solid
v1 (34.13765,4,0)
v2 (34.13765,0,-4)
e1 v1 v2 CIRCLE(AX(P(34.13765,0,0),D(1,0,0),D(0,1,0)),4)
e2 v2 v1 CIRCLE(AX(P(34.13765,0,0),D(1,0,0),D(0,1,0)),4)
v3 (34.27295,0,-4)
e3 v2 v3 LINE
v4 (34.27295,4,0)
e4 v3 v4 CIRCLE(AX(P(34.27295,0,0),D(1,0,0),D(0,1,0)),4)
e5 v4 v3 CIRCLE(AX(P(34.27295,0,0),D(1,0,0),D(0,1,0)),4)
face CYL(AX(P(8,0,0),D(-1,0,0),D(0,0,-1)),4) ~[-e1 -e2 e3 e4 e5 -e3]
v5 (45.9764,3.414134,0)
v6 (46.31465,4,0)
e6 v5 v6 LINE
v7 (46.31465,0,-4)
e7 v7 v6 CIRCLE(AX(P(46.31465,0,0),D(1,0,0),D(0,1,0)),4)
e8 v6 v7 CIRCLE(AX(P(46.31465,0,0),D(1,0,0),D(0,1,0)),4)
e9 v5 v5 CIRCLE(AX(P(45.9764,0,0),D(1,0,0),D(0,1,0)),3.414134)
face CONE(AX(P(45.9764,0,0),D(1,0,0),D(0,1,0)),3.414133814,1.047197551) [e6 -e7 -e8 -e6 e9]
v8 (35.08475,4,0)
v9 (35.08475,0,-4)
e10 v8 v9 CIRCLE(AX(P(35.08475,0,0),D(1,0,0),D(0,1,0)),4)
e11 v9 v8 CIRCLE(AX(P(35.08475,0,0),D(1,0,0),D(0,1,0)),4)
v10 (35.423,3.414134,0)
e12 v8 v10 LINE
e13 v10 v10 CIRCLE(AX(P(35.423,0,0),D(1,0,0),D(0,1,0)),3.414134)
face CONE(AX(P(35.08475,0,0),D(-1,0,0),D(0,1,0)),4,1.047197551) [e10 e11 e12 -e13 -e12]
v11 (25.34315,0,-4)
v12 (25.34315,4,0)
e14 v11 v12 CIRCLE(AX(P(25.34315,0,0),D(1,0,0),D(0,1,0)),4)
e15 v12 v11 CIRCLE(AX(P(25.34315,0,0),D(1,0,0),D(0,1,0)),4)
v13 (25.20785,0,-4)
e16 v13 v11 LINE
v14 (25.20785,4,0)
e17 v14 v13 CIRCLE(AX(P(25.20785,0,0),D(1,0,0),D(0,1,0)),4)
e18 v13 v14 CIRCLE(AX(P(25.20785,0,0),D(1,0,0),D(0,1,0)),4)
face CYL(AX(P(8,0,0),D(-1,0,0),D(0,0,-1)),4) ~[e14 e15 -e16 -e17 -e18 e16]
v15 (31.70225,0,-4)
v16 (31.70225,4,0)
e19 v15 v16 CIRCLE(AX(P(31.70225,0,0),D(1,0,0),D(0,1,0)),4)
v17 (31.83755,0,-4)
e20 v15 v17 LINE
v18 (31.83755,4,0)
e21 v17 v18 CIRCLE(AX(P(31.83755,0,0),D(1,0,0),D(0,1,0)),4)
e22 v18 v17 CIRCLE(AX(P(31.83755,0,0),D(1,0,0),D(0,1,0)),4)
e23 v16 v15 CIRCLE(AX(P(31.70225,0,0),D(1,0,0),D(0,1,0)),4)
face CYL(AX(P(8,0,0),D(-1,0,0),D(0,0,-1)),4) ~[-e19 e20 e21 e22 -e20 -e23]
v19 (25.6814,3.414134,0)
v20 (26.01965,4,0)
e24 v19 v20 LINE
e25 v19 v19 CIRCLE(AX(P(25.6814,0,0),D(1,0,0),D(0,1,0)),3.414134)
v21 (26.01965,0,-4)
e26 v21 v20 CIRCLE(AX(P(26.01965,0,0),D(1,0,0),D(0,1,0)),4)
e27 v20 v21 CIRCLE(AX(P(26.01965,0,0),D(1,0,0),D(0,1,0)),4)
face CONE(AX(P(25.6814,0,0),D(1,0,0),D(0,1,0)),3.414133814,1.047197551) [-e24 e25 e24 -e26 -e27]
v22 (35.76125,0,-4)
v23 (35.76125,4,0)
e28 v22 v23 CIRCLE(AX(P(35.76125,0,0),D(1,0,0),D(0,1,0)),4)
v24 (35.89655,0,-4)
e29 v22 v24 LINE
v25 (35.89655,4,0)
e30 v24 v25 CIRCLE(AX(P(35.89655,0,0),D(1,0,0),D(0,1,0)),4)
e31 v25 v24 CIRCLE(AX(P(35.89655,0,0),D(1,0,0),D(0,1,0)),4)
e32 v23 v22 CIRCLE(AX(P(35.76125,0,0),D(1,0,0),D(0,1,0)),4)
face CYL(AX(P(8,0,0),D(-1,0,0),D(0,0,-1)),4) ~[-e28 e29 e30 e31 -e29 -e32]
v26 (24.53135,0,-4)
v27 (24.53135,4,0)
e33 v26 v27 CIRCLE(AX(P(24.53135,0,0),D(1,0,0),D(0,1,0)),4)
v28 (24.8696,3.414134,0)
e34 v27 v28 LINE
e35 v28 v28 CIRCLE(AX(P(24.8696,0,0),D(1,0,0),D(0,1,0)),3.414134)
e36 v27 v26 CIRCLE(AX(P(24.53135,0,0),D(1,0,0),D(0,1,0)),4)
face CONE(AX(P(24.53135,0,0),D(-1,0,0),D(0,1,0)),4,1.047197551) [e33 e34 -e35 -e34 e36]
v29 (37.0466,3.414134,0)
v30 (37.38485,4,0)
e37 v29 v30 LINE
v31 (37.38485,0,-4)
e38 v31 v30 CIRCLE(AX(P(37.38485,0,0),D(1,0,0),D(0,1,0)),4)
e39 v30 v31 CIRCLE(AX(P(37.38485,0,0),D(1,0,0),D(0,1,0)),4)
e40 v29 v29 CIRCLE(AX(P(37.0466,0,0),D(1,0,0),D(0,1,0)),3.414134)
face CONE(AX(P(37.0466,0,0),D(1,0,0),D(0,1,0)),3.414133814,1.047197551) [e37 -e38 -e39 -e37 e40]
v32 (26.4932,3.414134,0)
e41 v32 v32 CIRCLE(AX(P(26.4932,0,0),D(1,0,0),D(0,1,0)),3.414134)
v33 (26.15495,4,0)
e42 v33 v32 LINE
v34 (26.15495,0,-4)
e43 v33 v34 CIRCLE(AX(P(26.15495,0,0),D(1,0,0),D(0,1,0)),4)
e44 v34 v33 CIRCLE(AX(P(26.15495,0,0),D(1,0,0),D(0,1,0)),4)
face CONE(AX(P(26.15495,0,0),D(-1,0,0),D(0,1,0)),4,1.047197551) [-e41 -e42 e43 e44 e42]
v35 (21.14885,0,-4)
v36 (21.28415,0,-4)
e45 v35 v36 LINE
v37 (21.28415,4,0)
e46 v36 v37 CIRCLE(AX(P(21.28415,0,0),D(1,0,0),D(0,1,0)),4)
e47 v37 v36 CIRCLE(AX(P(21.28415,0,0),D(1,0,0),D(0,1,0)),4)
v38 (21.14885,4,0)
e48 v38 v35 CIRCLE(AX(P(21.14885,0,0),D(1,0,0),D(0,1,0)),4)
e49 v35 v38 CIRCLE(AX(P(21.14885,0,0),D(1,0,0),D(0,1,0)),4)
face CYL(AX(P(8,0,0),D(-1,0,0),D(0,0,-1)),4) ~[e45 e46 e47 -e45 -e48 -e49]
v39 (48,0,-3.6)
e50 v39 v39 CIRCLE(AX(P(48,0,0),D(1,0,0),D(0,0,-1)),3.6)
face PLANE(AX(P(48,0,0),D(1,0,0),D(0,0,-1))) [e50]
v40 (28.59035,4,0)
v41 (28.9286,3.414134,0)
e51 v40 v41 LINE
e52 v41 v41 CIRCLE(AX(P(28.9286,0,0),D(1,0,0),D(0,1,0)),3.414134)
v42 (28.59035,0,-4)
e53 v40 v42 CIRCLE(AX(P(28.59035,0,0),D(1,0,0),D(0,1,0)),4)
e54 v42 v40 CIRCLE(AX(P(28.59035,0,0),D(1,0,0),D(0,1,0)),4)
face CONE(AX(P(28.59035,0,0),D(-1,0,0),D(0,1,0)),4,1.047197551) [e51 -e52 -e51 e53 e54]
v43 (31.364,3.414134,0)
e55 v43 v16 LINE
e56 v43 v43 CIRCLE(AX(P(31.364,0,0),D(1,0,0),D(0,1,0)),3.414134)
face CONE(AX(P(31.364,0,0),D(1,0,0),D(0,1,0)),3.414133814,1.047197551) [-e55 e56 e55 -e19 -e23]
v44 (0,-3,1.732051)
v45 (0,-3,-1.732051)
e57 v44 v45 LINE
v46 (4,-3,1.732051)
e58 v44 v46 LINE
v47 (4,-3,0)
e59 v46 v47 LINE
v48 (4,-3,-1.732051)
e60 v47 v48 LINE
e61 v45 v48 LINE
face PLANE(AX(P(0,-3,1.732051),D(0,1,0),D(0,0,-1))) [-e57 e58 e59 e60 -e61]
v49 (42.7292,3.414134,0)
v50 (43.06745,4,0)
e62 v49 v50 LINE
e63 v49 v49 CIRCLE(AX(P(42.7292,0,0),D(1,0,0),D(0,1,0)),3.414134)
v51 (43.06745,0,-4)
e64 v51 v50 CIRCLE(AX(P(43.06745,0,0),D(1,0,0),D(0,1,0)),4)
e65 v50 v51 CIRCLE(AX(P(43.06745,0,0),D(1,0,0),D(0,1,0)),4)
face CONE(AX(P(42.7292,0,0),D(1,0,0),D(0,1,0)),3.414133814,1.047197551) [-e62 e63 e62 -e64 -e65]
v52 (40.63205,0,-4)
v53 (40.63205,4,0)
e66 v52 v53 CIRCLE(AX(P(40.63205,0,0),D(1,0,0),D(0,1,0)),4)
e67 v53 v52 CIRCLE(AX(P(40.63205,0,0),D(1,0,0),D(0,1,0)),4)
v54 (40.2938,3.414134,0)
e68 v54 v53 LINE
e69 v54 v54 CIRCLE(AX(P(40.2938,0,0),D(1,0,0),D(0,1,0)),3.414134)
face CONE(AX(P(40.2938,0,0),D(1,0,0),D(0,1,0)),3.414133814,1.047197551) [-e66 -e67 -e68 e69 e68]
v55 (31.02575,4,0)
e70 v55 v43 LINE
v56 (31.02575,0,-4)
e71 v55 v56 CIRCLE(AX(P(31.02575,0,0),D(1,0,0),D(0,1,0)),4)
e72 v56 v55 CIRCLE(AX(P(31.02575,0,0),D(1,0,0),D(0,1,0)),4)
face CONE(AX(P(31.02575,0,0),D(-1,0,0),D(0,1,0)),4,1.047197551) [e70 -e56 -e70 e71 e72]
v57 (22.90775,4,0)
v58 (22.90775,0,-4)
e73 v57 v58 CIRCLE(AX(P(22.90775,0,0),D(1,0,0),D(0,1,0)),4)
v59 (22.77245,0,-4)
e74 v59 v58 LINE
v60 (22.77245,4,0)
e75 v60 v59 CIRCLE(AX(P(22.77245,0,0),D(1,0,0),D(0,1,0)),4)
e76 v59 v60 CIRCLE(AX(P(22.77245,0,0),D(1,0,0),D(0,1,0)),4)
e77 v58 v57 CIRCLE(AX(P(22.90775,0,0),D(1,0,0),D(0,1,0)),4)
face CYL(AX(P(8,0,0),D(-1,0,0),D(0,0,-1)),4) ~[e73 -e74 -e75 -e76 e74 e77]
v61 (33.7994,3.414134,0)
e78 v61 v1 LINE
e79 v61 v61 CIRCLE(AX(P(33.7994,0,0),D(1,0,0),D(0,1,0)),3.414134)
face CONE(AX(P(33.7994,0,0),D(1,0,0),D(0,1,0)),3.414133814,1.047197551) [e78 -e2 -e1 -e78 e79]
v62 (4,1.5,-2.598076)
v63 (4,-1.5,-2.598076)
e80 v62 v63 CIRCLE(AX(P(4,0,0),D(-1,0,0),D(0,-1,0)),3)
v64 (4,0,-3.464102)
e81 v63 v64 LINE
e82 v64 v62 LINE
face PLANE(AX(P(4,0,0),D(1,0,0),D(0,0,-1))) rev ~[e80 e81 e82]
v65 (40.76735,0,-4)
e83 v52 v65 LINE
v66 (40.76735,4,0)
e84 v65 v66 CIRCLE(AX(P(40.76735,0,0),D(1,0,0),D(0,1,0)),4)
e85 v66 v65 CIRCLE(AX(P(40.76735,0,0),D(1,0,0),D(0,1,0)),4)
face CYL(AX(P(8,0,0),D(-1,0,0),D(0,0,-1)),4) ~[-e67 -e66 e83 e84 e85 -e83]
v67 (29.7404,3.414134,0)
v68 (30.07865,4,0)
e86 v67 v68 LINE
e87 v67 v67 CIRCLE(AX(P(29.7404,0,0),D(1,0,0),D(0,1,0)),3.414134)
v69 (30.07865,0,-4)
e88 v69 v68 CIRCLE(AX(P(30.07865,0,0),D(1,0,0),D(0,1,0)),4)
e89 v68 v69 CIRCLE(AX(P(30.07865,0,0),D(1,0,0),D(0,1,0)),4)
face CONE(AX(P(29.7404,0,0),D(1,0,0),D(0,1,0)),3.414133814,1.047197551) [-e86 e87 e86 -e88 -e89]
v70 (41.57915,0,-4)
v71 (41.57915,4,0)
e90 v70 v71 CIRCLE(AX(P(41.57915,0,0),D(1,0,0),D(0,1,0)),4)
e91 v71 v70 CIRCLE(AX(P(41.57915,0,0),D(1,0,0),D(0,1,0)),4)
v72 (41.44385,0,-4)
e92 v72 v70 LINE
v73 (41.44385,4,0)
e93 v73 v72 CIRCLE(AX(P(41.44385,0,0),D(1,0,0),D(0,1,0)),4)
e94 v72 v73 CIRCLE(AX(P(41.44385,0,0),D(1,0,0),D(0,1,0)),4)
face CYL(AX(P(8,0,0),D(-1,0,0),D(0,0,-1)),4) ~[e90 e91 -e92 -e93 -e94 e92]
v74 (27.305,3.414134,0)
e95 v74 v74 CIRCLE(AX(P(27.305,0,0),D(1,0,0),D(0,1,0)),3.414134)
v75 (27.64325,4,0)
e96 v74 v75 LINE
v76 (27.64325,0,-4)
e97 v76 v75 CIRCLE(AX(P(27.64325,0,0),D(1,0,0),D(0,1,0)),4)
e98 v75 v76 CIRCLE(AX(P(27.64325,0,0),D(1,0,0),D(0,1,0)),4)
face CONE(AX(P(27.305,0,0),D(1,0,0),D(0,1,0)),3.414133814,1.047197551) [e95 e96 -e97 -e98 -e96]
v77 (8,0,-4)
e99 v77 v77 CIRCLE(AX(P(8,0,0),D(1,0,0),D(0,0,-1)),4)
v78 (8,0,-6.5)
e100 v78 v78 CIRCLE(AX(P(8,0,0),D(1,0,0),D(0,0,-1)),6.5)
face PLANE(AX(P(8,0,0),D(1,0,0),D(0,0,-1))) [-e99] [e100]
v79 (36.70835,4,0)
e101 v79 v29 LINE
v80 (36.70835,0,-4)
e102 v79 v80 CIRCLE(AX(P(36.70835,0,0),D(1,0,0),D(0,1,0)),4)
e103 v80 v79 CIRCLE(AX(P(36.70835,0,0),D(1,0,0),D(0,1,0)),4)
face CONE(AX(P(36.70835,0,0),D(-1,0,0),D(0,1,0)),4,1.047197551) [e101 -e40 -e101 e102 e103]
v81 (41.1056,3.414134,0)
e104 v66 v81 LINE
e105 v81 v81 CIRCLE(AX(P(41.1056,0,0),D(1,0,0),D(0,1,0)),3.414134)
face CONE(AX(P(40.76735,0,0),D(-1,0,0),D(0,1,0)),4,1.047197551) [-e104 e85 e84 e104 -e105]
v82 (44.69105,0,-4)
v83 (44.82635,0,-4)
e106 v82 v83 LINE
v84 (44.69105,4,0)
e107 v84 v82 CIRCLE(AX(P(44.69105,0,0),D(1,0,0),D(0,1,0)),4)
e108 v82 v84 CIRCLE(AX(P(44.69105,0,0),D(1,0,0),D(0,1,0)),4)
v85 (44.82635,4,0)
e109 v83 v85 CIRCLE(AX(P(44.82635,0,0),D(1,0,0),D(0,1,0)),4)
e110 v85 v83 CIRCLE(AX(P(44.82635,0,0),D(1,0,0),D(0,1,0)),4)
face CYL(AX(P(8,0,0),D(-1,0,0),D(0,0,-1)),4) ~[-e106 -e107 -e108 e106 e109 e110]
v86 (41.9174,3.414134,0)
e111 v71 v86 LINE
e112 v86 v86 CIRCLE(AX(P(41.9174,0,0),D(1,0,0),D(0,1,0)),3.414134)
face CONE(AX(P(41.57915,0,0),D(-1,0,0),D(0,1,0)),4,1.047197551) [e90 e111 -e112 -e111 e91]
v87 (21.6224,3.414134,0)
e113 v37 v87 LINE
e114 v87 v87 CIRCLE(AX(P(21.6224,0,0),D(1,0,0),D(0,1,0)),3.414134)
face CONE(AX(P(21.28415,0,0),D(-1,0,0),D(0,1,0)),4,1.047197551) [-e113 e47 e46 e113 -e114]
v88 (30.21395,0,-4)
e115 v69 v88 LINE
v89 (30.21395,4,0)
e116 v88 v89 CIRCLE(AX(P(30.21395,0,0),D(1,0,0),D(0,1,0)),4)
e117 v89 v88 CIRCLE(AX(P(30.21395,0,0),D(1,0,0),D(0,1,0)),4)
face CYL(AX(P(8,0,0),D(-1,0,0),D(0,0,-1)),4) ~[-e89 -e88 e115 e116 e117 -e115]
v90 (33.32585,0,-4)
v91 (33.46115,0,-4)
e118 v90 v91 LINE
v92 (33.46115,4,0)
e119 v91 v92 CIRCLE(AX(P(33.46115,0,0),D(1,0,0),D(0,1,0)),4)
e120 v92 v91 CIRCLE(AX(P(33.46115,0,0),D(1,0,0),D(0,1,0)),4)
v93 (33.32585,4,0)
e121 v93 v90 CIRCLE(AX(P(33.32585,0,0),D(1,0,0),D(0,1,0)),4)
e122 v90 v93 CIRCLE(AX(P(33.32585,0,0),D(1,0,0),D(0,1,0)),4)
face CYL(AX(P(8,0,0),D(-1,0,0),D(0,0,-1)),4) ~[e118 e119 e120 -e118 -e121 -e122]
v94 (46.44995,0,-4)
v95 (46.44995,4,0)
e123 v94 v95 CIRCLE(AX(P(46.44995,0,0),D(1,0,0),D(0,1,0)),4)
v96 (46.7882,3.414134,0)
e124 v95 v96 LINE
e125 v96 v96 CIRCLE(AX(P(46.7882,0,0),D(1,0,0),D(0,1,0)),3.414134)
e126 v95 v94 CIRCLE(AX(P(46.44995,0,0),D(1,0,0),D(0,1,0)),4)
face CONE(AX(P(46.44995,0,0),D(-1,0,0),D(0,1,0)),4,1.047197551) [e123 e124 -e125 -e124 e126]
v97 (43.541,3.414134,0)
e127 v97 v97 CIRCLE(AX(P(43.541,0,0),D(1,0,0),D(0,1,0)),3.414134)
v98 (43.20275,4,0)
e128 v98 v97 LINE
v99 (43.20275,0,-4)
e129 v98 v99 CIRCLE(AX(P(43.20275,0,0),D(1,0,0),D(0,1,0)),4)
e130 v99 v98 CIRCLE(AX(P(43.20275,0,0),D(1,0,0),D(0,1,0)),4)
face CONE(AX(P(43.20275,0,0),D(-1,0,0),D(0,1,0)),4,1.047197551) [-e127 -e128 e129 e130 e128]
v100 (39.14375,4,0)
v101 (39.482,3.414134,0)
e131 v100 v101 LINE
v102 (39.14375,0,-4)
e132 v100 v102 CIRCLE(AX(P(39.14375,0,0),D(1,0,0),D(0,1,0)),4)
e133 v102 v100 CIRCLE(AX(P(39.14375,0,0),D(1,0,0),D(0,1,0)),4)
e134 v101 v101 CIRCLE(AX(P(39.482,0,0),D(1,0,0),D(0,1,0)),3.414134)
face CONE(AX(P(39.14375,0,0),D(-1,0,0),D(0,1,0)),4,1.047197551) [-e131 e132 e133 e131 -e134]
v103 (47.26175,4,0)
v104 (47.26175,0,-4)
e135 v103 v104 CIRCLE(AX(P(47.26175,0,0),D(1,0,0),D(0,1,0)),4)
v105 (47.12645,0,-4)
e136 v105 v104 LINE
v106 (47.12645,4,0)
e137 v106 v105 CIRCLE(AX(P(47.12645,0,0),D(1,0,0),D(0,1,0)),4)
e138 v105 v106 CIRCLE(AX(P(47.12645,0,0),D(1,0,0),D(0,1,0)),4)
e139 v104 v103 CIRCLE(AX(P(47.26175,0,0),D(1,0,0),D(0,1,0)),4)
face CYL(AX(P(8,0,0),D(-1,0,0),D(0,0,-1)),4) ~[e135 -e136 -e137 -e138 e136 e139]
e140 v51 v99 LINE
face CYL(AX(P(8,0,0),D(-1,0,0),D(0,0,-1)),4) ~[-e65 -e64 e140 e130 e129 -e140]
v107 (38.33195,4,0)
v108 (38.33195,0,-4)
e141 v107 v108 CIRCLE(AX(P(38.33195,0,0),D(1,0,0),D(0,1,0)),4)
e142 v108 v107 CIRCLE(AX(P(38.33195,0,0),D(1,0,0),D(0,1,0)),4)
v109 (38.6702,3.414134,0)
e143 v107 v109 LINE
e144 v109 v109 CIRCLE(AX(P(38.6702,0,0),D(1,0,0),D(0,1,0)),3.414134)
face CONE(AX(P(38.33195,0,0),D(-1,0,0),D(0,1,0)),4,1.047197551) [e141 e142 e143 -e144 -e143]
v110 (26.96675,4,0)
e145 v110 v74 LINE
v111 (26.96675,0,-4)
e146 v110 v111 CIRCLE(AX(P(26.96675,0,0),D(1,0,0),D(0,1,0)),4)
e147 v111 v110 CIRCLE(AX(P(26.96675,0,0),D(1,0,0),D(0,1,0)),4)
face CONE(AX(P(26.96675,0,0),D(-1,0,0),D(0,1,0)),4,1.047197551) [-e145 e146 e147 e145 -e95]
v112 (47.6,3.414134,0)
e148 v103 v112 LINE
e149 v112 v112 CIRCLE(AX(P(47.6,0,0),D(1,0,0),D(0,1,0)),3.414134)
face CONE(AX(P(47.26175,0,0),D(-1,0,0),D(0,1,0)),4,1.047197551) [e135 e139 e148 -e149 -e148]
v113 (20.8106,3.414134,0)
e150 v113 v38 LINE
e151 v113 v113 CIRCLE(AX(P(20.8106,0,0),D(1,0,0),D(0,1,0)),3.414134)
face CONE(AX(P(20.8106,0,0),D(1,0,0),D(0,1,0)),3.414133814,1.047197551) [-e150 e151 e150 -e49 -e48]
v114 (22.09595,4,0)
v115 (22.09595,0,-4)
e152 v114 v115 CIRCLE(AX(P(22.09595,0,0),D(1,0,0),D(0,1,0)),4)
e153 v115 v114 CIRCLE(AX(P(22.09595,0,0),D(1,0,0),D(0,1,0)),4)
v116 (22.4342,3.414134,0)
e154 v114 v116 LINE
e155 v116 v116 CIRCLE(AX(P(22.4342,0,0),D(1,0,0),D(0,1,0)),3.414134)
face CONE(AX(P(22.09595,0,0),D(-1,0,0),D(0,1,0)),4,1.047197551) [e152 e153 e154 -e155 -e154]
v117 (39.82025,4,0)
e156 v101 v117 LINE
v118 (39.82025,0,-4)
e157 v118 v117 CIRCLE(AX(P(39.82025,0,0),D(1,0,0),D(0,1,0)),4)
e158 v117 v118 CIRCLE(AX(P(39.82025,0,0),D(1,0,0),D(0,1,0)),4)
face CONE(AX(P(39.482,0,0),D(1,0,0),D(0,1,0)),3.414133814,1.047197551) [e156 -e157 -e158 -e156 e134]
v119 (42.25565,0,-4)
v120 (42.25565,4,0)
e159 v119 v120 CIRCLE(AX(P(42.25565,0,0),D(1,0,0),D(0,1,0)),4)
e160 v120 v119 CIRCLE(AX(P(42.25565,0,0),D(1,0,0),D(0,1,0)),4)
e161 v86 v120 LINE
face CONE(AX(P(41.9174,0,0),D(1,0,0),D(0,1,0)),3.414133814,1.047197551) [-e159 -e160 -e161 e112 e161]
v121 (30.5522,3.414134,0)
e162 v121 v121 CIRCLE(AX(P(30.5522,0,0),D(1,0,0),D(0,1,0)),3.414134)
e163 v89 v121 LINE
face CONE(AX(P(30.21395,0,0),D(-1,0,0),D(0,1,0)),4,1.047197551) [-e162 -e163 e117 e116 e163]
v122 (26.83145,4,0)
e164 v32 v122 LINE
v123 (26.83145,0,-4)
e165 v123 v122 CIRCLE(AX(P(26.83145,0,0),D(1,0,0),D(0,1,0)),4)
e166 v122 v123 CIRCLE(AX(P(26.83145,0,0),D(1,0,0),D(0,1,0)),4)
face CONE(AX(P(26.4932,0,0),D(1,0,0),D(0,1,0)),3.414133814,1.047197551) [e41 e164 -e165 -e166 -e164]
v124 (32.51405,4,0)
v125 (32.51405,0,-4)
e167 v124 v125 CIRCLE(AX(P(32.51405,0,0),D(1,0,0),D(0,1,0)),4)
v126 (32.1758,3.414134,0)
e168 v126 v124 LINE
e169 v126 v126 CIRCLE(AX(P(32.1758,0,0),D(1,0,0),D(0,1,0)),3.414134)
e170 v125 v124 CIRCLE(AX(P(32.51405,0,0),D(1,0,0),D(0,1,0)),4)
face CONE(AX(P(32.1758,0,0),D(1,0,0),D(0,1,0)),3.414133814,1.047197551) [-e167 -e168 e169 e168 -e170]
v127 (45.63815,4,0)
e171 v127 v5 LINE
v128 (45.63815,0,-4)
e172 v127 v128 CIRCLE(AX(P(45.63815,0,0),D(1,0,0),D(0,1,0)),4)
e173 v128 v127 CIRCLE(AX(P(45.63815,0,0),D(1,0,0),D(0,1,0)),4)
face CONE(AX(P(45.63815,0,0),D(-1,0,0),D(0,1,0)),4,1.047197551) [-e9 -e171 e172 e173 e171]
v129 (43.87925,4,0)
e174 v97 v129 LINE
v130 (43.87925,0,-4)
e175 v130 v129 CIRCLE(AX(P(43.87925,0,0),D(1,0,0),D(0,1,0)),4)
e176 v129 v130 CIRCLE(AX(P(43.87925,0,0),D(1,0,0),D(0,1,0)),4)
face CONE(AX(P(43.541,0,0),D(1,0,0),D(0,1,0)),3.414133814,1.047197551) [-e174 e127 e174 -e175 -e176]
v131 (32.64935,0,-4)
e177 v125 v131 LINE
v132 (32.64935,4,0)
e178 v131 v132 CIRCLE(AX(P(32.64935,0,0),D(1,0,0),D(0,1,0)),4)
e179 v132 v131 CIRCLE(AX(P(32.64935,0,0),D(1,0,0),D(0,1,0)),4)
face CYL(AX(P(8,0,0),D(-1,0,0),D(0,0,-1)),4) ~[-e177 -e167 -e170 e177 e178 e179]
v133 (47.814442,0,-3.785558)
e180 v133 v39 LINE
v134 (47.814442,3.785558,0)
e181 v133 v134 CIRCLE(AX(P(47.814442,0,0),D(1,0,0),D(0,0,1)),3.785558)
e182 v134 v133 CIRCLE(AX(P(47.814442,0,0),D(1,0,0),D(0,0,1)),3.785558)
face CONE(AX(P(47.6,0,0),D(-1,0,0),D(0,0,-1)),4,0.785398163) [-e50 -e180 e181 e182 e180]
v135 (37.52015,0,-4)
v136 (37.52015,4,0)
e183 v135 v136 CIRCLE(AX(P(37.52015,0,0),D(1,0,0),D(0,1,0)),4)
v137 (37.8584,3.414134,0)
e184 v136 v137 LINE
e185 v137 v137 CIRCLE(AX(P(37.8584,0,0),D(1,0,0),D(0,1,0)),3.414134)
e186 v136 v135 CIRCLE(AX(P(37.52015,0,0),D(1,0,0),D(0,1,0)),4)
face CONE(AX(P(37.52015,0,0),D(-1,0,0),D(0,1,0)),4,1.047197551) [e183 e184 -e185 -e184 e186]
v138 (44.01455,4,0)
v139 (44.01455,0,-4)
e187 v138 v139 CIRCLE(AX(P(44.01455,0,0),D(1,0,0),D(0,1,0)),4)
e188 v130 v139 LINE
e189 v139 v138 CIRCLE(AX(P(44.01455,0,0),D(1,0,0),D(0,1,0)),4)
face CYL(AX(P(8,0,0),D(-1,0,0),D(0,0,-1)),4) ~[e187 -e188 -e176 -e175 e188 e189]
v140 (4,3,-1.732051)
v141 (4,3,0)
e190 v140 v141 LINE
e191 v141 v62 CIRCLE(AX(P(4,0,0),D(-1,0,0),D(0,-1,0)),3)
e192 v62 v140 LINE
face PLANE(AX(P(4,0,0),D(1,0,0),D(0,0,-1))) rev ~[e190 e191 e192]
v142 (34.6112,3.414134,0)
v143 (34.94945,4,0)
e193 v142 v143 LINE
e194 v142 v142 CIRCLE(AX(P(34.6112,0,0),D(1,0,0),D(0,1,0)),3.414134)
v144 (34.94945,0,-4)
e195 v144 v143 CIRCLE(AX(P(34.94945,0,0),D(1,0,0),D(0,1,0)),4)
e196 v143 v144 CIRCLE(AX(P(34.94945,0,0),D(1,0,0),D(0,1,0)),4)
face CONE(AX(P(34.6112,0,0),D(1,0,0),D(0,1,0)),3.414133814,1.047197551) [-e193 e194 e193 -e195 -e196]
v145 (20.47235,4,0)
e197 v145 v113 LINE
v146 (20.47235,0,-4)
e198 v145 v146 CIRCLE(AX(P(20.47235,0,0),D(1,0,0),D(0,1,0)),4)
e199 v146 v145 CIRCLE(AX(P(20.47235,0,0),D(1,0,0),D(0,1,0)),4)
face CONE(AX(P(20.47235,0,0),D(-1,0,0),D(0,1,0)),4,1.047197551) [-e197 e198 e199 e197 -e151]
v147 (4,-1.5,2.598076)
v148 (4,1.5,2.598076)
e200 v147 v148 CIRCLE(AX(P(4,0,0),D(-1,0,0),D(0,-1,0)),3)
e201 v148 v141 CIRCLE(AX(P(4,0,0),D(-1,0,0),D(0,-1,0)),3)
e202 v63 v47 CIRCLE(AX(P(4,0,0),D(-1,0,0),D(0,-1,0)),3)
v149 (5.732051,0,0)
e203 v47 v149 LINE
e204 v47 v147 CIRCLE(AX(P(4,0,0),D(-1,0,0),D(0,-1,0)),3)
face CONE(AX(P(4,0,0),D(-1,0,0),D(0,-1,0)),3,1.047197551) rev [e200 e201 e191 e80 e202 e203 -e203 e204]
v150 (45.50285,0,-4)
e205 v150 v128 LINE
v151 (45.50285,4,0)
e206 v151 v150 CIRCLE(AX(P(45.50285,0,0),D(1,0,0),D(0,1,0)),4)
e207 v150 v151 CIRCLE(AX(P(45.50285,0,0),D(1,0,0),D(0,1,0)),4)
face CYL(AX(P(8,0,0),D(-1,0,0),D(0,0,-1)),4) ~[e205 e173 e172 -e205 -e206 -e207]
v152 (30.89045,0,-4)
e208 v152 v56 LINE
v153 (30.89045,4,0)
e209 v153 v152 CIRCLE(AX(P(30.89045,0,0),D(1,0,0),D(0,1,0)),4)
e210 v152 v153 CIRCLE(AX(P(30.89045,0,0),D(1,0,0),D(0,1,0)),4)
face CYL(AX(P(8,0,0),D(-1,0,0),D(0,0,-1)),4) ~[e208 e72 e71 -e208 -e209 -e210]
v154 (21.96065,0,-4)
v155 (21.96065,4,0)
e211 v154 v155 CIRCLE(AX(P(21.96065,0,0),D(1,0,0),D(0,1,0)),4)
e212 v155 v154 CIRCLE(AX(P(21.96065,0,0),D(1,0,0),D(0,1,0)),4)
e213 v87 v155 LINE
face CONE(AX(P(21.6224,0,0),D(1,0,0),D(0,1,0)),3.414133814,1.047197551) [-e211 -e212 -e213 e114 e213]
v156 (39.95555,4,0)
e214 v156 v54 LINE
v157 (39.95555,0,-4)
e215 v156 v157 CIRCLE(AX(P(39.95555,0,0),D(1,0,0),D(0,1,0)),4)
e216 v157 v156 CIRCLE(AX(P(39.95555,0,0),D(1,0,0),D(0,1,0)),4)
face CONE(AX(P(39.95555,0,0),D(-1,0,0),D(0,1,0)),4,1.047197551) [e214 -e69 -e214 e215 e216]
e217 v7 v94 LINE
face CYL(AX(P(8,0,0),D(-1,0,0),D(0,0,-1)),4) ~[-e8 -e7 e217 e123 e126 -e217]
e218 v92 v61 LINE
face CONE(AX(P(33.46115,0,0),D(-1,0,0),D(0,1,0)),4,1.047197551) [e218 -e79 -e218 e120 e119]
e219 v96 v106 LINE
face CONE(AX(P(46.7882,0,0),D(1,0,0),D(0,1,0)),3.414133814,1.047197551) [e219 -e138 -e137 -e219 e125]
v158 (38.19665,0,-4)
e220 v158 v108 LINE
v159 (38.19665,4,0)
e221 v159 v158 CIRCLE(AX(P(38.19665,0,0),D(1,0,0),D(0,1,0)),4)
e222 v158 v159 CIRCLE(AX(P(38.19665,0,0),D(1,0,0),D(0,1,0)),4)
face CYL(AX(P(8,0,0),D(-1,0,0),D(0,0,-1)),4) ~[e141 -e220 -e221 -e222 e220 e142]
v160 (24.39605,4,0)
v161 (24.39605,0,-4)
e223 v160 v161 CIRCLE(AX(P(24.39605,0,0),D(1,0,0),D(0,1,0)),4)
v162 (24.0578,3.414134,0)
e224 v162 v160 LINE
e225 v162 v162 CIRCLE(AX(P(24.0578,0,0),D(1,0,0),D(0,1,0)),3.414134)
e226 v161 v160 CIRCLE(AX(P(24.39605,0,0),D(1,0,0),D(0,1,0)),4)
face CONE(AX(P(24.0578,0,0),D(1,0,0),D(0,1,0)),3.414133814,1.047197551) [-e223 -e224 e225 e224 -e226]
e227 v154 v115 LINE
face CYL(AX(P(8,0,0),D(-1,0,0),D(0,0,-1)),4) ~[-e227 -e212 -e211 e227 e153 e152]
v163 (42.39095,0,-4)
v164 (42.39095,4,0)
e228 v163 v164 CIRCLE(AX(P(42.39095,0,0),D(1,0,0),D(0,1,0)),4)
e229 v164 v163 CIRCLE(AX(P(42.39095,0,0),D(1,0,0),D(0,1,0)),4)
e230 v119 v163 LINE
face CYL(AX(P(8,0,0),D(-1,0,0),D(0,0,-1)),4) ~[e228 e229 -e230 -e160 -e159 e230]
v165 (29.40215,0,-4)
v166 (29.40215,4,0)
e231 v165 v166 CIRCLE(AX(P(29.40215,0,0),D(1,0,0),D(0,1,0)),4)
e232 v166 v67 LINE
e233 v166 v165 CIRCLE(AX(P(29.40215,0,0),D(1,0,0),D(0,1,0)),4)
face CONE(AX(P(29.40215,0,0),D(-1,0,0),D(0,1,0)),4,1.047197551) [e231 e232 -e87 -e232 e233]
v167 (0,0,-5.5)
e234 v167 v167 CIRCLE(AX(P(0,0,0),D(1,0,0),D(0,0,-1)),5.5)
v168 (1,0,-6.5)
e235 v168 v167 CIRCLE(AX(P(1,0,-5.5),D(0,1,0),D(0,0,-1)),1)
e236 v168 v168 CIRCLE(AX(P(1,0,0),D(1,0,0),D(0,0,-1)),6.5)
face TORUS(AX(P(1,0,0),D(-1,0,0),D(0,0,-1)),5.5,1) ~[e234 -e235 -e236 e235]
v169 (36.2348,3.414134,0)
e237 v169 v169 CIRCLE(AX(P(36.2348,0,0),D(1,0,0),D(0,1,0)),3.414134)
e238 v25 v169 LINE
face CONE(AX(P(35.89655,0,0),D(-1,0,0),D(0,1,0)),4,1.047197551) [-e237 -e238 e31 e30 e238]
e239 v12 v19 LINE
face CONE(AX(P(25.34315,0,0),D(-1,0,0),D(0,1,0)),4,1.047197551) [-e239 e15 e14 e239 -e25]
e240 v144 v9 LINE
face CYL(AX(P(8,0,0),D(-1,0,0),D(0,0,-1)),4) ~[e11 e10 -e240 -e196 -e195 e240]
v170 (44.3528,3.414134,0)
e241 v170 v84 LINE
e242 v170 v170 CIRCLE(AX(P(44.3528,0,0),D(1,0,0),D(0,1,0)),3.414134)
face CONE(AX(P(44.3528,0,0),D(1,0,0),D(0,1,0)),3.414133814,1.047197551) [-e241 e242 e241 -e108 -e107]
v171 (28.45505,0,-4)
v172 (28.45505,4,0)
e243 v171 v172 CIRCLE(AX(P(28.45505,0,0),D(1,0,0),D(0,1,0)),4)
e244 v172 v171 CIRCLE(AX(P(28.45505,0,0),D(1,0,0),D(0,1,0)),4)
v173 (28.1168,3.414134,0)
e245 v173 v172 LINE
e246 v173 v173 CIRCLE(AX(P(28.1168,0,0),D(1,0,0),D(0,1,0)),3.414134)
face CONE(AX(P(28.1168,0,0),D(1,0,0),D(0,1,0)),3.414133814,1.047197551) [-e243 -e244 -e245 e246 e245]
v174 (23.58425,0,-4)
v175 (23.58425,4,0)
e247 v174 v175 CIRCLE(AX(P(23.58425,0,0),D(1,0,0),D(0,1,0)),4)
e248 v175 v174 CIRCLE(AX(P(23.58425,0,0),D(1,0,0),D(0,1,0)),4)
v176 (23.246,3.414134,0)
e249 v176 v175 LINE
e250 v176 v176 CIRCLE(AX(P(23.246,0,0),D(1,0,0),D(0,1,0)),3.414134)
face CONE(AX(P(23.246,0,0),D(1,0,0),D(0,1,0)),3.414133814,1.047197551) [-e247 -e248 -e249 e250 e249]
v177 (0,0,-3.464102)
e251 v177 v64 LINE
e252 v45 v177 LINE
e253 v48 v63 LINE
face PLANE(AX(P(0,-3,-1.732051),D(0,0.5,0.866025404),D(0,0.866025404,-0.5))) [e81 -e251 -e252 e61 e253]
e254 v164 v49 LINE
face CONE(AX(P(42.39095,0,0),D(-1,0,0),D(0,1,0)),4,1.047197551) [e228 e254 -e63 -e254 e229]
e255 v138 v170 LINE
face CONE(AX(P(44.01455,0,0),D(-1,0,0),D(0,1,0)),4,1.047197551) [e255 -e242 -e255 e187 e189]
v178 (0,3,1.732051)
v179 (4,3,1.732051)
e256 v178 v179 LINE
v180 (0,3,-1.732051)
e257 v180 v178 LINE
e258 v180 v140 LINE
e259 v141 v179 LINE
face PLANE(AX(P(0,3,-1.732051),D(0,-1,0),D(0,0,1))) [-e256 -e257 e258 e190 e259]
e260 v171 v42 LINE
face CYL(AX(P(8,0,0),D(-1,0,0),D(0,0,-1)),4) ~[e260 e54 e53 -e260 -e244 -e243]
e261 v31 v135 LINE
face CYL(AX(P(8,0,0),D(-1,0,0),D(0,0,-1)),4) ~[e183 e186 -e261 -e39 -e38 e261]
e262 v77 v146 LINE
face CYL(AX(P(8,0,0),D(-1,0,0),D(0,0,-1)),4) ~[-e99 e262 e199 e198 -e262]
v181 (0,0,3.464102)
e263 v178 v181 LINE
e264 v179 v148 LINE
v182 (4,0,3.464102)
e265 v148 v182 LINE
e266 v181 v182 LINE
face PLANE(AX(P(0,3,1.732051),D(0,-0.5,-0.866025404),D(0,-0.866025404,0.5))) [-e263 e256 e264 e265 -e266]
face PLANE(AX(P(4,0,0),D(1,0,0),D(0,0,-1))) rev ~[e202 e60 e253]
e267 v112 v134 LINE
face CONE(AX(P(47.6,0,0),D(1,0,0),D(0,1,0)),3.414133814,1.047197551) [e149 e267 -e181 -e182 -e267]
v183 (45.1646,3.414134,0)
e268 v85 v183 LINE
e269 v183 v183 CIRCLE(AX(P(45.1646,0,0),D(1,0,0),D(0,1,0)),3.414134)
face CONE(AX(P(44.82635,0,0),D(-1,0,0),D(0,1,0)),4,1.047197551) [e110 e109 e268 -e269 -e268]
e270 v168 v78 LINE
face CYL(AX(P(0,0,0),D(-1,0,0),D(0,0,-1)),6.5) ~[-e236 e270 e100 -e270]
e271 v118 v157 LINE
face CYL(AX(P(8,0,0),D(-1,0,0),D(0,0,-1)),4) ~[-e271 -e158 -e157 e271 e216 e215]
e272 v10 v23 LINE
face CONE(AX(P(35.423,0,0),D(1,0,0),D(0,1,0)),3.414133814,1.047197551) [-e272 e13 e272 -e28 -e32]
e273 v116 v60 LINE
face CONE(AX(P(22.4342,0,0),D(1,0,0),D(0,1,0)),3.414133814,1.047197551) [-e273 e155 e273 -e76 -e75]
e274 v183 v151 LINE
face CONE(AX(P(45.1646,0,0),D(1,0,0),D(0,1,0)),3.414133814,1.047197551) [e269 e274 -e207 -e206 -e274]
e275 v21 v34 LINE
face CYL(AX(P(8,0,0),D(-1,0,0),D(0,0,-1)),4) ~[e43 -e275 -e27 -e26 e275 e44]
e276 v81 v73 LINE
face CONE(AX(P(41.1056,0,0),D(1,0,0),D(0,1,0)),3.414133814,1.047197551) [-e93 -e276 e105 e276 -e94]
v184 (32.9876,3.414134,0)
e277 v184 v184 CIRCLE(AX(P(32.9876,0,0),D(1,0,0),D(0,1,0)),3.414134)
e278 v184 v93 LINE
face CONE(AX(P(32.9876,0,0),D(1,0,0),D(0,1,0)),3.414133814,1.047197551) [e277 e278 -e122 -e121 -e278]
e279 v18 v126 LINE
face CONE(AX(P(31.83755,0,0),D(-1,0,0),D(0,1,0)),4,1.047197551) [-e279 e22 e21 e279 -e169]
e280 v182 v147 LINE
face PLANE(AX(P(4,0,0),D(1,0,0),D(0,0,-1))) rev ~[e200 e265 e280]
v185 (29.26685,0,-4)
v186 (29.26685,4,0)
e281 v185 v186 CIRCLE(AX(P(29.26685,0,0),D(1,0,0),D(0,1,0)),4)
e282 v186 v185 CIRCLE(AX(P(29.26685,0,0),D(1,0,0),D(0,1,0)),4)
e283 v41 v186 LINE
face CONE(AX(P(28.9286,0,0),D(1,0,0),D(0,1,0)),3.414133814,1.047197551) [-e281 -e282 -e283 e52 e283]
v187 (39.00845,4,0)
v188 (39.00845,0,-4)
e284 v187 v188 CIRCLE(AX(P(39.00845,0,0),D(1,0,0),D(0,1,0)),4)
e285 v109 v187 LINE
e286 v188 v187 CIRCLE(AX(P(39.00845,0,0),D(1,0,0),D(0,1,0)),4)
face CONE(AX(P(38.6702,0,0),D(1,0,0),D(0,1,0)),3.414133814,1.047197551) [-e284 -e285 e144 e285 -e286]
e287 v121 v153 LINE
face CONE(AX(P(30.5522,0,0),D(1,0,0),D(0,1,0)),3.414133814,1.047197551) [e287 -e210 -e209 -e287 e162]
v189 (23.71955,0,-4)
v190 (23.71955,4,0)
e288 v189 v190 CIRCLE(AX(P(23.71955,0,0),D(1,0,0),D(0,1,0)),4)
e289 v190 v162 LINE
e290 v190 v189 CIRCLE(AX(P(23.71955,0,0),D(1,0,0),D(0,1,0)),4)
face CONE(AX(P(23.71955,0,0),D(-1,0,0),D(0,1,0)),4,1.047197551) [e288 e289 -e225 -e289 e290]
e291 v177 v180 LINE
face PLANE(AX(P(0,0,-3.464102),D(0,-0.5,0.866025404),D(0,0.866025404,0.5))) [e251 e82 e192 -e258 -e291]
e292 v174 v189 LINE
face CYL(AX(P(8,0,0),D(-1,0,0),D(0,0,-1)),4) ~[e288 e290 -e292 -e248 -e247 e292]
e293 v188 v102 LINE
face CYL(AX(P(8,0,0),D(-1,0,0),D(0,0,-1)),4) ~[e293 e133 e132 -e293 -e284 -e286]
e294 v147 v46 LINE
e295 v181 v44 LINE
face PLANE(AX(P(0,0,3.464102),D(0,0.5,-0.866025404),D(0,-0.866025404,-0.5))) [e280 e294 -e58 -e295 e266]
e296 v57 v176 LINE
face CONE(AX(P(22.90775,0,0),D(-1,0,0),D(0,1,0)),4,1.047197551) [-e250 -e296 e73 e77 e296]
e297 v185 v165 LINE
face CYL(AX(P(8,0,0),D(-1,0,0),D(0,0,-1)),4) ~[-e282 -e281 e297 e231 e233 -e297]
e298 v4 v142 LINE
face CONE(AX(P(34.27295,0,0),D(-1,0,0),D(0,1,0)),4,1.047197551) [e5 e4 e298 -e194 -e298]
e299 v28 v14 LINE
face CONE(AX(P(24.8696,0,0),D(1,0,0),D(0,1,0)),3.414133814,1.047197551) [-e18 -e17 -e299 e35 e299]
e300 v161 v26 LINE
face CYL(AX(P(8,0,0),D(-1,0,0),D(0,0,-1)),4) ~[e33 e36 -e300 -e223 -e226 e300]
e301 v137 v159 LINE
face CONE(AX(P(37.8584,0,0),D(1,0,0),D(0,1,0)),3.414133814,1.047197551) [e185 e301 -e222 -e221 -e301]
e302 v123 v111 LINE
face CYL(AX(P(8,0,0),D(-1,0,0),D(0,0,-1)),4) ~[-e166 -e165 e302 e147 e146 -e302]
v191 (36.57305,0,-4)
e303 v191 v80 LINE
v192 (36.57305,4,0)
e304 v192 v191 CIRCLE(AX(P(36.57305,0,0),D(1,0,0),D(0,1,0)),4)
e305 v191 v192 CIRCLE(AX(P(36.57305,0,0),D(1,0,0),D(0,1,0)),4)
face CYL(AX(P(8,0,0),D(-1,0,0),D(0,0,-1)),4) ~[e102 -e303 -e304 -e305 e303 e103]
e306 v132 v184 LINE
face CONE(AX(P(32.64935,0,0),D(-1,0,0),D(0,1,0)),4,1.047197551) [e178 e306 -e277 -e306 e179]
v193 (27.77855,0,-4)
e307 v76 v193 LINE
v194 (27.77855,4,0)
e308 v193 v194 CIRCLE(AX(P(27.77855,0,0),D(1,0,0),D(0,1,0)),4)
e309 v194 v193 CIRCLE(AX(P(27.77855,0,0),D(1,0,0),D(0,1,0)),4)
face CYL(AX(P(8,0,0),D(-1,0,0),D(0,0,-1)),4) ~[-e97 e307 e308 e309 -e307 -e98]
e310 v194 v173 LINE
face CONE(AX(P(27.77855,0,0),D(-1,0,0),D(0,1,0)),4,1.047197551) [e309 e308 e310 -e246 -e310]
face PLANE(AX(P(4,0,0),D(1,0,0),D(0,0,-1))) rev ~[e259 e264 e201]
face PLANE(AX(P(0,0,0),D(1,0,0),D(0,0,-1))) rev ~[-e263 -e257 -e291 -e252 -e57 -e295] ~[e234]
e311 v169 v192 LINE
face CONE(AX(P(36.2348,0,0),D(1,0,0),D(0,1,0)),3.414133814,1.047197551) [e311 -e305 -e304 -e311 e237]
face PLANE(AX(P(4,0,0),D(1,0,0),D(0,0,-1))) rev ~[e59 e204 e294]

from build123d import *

# Parameters (mm, degrees)
SKETCH1_R           = 6.5
BASEHEAD_DEPTH      = 8
SKETCH2_R           = 4
BASEBODY_DEPTH      = 40
HEXAGONSOCKET_DEPTH = 4
TOPFILLET_R         = 1
CHAMFER1_SIZE       = 0.4
LPATTERN10_COUNT    = 34
LPATTERN10_PITCH    = 0.8118


with BuildPart() as part:
    # Sketch1 → BaseHead (new body)
    with BuildSketch(Plane(origin=(0, 0, 0), x_dir=(0, 0, -1), z_dir=(1, 0, 0))):
        Circle(SKETCH1_R)
    extrude(amount=BASEHEAD_DEPTH)

    # Sketch2 → BaseBody (add)
    with BuildSketch(Plane(origin=(8, 0, 0), x_dir=(0, 0, -1), z_dir=(1, 0, 0))):
        Circle(SKETCH2_R)
    extrude(amount=BASEBODY_DEPTH)

    # Sketch3 → HexagonSocket (cut)
    with BuildSketch(Plane(origin=(0, 0, 0), x_dir=(0, 0, -1), z_dir=(1, 0, 0))):
        Polygon((3.464101615, 0), (1.732050808, 3), (-1.732050808, 3), (-3.464101615, 0), (-1.732050808, -3), (1.732050808, -3), align=None)
    extrude(amount=HEXAGONSOCKET_DEPTH, mode=Mode.SUBTRACT)

    # Sketch4 → Cut-Revolve1 (revolve, cut)
    with BuildSketch(Plane(origin=(-4.19613823, 0.75, 0), x_dir=(-1, 0, 0), z_dir=(0, 0, 1))):
        Polygon((-8.19613823, 3.75), (-9.928189037, 0.75), (-8.19613823, 0.75), align=None)
    revolve(axis=Axis((0.838992387, 0, 0), (-1, 0, 0)), mode=Mode.SUBTRACT)

    # TopFillet
    topfillet_edges = [part.edges().sort_by_distance(p)[0] for p in [
        (0, 0, 6.5),
    ]]
    fillet(topfillet_edges, radius=TOPFILLET_R)

    # Chamfer1
    chamfer1_edges = [part.edges().sort_by_distance(p)[0] for p in [
        (48, 0, 4),
    ]]
    chamfer(chamfer1_edges, length=CHAMFER1_SIZE)

    # Sketch5 → Cut-Revolve10 (revolve, cut)
    with BuildSketch(Plane.XY):
        Polygon((47.6, 3.414133814), (47.93825, 4), (47.93825, 4.6765), (47.26175, 4.6765), (47.26175, 4), align=None)
    cut_revolve10 = revolve(axis=Axis((0, 0, 0), (1, 0, 0)), mode=Mode.SUBTRACT)

    # LPattern10: Cut-Revolve10 ×34
    with Locations(*[(-i * LPATTERN10_PITCH, 0, 0) for i in range(1, LPATTERN10_COUNT)]):
        add(cut_revolve10, mode=Mode.SUBTRACT)


solid = part.part
